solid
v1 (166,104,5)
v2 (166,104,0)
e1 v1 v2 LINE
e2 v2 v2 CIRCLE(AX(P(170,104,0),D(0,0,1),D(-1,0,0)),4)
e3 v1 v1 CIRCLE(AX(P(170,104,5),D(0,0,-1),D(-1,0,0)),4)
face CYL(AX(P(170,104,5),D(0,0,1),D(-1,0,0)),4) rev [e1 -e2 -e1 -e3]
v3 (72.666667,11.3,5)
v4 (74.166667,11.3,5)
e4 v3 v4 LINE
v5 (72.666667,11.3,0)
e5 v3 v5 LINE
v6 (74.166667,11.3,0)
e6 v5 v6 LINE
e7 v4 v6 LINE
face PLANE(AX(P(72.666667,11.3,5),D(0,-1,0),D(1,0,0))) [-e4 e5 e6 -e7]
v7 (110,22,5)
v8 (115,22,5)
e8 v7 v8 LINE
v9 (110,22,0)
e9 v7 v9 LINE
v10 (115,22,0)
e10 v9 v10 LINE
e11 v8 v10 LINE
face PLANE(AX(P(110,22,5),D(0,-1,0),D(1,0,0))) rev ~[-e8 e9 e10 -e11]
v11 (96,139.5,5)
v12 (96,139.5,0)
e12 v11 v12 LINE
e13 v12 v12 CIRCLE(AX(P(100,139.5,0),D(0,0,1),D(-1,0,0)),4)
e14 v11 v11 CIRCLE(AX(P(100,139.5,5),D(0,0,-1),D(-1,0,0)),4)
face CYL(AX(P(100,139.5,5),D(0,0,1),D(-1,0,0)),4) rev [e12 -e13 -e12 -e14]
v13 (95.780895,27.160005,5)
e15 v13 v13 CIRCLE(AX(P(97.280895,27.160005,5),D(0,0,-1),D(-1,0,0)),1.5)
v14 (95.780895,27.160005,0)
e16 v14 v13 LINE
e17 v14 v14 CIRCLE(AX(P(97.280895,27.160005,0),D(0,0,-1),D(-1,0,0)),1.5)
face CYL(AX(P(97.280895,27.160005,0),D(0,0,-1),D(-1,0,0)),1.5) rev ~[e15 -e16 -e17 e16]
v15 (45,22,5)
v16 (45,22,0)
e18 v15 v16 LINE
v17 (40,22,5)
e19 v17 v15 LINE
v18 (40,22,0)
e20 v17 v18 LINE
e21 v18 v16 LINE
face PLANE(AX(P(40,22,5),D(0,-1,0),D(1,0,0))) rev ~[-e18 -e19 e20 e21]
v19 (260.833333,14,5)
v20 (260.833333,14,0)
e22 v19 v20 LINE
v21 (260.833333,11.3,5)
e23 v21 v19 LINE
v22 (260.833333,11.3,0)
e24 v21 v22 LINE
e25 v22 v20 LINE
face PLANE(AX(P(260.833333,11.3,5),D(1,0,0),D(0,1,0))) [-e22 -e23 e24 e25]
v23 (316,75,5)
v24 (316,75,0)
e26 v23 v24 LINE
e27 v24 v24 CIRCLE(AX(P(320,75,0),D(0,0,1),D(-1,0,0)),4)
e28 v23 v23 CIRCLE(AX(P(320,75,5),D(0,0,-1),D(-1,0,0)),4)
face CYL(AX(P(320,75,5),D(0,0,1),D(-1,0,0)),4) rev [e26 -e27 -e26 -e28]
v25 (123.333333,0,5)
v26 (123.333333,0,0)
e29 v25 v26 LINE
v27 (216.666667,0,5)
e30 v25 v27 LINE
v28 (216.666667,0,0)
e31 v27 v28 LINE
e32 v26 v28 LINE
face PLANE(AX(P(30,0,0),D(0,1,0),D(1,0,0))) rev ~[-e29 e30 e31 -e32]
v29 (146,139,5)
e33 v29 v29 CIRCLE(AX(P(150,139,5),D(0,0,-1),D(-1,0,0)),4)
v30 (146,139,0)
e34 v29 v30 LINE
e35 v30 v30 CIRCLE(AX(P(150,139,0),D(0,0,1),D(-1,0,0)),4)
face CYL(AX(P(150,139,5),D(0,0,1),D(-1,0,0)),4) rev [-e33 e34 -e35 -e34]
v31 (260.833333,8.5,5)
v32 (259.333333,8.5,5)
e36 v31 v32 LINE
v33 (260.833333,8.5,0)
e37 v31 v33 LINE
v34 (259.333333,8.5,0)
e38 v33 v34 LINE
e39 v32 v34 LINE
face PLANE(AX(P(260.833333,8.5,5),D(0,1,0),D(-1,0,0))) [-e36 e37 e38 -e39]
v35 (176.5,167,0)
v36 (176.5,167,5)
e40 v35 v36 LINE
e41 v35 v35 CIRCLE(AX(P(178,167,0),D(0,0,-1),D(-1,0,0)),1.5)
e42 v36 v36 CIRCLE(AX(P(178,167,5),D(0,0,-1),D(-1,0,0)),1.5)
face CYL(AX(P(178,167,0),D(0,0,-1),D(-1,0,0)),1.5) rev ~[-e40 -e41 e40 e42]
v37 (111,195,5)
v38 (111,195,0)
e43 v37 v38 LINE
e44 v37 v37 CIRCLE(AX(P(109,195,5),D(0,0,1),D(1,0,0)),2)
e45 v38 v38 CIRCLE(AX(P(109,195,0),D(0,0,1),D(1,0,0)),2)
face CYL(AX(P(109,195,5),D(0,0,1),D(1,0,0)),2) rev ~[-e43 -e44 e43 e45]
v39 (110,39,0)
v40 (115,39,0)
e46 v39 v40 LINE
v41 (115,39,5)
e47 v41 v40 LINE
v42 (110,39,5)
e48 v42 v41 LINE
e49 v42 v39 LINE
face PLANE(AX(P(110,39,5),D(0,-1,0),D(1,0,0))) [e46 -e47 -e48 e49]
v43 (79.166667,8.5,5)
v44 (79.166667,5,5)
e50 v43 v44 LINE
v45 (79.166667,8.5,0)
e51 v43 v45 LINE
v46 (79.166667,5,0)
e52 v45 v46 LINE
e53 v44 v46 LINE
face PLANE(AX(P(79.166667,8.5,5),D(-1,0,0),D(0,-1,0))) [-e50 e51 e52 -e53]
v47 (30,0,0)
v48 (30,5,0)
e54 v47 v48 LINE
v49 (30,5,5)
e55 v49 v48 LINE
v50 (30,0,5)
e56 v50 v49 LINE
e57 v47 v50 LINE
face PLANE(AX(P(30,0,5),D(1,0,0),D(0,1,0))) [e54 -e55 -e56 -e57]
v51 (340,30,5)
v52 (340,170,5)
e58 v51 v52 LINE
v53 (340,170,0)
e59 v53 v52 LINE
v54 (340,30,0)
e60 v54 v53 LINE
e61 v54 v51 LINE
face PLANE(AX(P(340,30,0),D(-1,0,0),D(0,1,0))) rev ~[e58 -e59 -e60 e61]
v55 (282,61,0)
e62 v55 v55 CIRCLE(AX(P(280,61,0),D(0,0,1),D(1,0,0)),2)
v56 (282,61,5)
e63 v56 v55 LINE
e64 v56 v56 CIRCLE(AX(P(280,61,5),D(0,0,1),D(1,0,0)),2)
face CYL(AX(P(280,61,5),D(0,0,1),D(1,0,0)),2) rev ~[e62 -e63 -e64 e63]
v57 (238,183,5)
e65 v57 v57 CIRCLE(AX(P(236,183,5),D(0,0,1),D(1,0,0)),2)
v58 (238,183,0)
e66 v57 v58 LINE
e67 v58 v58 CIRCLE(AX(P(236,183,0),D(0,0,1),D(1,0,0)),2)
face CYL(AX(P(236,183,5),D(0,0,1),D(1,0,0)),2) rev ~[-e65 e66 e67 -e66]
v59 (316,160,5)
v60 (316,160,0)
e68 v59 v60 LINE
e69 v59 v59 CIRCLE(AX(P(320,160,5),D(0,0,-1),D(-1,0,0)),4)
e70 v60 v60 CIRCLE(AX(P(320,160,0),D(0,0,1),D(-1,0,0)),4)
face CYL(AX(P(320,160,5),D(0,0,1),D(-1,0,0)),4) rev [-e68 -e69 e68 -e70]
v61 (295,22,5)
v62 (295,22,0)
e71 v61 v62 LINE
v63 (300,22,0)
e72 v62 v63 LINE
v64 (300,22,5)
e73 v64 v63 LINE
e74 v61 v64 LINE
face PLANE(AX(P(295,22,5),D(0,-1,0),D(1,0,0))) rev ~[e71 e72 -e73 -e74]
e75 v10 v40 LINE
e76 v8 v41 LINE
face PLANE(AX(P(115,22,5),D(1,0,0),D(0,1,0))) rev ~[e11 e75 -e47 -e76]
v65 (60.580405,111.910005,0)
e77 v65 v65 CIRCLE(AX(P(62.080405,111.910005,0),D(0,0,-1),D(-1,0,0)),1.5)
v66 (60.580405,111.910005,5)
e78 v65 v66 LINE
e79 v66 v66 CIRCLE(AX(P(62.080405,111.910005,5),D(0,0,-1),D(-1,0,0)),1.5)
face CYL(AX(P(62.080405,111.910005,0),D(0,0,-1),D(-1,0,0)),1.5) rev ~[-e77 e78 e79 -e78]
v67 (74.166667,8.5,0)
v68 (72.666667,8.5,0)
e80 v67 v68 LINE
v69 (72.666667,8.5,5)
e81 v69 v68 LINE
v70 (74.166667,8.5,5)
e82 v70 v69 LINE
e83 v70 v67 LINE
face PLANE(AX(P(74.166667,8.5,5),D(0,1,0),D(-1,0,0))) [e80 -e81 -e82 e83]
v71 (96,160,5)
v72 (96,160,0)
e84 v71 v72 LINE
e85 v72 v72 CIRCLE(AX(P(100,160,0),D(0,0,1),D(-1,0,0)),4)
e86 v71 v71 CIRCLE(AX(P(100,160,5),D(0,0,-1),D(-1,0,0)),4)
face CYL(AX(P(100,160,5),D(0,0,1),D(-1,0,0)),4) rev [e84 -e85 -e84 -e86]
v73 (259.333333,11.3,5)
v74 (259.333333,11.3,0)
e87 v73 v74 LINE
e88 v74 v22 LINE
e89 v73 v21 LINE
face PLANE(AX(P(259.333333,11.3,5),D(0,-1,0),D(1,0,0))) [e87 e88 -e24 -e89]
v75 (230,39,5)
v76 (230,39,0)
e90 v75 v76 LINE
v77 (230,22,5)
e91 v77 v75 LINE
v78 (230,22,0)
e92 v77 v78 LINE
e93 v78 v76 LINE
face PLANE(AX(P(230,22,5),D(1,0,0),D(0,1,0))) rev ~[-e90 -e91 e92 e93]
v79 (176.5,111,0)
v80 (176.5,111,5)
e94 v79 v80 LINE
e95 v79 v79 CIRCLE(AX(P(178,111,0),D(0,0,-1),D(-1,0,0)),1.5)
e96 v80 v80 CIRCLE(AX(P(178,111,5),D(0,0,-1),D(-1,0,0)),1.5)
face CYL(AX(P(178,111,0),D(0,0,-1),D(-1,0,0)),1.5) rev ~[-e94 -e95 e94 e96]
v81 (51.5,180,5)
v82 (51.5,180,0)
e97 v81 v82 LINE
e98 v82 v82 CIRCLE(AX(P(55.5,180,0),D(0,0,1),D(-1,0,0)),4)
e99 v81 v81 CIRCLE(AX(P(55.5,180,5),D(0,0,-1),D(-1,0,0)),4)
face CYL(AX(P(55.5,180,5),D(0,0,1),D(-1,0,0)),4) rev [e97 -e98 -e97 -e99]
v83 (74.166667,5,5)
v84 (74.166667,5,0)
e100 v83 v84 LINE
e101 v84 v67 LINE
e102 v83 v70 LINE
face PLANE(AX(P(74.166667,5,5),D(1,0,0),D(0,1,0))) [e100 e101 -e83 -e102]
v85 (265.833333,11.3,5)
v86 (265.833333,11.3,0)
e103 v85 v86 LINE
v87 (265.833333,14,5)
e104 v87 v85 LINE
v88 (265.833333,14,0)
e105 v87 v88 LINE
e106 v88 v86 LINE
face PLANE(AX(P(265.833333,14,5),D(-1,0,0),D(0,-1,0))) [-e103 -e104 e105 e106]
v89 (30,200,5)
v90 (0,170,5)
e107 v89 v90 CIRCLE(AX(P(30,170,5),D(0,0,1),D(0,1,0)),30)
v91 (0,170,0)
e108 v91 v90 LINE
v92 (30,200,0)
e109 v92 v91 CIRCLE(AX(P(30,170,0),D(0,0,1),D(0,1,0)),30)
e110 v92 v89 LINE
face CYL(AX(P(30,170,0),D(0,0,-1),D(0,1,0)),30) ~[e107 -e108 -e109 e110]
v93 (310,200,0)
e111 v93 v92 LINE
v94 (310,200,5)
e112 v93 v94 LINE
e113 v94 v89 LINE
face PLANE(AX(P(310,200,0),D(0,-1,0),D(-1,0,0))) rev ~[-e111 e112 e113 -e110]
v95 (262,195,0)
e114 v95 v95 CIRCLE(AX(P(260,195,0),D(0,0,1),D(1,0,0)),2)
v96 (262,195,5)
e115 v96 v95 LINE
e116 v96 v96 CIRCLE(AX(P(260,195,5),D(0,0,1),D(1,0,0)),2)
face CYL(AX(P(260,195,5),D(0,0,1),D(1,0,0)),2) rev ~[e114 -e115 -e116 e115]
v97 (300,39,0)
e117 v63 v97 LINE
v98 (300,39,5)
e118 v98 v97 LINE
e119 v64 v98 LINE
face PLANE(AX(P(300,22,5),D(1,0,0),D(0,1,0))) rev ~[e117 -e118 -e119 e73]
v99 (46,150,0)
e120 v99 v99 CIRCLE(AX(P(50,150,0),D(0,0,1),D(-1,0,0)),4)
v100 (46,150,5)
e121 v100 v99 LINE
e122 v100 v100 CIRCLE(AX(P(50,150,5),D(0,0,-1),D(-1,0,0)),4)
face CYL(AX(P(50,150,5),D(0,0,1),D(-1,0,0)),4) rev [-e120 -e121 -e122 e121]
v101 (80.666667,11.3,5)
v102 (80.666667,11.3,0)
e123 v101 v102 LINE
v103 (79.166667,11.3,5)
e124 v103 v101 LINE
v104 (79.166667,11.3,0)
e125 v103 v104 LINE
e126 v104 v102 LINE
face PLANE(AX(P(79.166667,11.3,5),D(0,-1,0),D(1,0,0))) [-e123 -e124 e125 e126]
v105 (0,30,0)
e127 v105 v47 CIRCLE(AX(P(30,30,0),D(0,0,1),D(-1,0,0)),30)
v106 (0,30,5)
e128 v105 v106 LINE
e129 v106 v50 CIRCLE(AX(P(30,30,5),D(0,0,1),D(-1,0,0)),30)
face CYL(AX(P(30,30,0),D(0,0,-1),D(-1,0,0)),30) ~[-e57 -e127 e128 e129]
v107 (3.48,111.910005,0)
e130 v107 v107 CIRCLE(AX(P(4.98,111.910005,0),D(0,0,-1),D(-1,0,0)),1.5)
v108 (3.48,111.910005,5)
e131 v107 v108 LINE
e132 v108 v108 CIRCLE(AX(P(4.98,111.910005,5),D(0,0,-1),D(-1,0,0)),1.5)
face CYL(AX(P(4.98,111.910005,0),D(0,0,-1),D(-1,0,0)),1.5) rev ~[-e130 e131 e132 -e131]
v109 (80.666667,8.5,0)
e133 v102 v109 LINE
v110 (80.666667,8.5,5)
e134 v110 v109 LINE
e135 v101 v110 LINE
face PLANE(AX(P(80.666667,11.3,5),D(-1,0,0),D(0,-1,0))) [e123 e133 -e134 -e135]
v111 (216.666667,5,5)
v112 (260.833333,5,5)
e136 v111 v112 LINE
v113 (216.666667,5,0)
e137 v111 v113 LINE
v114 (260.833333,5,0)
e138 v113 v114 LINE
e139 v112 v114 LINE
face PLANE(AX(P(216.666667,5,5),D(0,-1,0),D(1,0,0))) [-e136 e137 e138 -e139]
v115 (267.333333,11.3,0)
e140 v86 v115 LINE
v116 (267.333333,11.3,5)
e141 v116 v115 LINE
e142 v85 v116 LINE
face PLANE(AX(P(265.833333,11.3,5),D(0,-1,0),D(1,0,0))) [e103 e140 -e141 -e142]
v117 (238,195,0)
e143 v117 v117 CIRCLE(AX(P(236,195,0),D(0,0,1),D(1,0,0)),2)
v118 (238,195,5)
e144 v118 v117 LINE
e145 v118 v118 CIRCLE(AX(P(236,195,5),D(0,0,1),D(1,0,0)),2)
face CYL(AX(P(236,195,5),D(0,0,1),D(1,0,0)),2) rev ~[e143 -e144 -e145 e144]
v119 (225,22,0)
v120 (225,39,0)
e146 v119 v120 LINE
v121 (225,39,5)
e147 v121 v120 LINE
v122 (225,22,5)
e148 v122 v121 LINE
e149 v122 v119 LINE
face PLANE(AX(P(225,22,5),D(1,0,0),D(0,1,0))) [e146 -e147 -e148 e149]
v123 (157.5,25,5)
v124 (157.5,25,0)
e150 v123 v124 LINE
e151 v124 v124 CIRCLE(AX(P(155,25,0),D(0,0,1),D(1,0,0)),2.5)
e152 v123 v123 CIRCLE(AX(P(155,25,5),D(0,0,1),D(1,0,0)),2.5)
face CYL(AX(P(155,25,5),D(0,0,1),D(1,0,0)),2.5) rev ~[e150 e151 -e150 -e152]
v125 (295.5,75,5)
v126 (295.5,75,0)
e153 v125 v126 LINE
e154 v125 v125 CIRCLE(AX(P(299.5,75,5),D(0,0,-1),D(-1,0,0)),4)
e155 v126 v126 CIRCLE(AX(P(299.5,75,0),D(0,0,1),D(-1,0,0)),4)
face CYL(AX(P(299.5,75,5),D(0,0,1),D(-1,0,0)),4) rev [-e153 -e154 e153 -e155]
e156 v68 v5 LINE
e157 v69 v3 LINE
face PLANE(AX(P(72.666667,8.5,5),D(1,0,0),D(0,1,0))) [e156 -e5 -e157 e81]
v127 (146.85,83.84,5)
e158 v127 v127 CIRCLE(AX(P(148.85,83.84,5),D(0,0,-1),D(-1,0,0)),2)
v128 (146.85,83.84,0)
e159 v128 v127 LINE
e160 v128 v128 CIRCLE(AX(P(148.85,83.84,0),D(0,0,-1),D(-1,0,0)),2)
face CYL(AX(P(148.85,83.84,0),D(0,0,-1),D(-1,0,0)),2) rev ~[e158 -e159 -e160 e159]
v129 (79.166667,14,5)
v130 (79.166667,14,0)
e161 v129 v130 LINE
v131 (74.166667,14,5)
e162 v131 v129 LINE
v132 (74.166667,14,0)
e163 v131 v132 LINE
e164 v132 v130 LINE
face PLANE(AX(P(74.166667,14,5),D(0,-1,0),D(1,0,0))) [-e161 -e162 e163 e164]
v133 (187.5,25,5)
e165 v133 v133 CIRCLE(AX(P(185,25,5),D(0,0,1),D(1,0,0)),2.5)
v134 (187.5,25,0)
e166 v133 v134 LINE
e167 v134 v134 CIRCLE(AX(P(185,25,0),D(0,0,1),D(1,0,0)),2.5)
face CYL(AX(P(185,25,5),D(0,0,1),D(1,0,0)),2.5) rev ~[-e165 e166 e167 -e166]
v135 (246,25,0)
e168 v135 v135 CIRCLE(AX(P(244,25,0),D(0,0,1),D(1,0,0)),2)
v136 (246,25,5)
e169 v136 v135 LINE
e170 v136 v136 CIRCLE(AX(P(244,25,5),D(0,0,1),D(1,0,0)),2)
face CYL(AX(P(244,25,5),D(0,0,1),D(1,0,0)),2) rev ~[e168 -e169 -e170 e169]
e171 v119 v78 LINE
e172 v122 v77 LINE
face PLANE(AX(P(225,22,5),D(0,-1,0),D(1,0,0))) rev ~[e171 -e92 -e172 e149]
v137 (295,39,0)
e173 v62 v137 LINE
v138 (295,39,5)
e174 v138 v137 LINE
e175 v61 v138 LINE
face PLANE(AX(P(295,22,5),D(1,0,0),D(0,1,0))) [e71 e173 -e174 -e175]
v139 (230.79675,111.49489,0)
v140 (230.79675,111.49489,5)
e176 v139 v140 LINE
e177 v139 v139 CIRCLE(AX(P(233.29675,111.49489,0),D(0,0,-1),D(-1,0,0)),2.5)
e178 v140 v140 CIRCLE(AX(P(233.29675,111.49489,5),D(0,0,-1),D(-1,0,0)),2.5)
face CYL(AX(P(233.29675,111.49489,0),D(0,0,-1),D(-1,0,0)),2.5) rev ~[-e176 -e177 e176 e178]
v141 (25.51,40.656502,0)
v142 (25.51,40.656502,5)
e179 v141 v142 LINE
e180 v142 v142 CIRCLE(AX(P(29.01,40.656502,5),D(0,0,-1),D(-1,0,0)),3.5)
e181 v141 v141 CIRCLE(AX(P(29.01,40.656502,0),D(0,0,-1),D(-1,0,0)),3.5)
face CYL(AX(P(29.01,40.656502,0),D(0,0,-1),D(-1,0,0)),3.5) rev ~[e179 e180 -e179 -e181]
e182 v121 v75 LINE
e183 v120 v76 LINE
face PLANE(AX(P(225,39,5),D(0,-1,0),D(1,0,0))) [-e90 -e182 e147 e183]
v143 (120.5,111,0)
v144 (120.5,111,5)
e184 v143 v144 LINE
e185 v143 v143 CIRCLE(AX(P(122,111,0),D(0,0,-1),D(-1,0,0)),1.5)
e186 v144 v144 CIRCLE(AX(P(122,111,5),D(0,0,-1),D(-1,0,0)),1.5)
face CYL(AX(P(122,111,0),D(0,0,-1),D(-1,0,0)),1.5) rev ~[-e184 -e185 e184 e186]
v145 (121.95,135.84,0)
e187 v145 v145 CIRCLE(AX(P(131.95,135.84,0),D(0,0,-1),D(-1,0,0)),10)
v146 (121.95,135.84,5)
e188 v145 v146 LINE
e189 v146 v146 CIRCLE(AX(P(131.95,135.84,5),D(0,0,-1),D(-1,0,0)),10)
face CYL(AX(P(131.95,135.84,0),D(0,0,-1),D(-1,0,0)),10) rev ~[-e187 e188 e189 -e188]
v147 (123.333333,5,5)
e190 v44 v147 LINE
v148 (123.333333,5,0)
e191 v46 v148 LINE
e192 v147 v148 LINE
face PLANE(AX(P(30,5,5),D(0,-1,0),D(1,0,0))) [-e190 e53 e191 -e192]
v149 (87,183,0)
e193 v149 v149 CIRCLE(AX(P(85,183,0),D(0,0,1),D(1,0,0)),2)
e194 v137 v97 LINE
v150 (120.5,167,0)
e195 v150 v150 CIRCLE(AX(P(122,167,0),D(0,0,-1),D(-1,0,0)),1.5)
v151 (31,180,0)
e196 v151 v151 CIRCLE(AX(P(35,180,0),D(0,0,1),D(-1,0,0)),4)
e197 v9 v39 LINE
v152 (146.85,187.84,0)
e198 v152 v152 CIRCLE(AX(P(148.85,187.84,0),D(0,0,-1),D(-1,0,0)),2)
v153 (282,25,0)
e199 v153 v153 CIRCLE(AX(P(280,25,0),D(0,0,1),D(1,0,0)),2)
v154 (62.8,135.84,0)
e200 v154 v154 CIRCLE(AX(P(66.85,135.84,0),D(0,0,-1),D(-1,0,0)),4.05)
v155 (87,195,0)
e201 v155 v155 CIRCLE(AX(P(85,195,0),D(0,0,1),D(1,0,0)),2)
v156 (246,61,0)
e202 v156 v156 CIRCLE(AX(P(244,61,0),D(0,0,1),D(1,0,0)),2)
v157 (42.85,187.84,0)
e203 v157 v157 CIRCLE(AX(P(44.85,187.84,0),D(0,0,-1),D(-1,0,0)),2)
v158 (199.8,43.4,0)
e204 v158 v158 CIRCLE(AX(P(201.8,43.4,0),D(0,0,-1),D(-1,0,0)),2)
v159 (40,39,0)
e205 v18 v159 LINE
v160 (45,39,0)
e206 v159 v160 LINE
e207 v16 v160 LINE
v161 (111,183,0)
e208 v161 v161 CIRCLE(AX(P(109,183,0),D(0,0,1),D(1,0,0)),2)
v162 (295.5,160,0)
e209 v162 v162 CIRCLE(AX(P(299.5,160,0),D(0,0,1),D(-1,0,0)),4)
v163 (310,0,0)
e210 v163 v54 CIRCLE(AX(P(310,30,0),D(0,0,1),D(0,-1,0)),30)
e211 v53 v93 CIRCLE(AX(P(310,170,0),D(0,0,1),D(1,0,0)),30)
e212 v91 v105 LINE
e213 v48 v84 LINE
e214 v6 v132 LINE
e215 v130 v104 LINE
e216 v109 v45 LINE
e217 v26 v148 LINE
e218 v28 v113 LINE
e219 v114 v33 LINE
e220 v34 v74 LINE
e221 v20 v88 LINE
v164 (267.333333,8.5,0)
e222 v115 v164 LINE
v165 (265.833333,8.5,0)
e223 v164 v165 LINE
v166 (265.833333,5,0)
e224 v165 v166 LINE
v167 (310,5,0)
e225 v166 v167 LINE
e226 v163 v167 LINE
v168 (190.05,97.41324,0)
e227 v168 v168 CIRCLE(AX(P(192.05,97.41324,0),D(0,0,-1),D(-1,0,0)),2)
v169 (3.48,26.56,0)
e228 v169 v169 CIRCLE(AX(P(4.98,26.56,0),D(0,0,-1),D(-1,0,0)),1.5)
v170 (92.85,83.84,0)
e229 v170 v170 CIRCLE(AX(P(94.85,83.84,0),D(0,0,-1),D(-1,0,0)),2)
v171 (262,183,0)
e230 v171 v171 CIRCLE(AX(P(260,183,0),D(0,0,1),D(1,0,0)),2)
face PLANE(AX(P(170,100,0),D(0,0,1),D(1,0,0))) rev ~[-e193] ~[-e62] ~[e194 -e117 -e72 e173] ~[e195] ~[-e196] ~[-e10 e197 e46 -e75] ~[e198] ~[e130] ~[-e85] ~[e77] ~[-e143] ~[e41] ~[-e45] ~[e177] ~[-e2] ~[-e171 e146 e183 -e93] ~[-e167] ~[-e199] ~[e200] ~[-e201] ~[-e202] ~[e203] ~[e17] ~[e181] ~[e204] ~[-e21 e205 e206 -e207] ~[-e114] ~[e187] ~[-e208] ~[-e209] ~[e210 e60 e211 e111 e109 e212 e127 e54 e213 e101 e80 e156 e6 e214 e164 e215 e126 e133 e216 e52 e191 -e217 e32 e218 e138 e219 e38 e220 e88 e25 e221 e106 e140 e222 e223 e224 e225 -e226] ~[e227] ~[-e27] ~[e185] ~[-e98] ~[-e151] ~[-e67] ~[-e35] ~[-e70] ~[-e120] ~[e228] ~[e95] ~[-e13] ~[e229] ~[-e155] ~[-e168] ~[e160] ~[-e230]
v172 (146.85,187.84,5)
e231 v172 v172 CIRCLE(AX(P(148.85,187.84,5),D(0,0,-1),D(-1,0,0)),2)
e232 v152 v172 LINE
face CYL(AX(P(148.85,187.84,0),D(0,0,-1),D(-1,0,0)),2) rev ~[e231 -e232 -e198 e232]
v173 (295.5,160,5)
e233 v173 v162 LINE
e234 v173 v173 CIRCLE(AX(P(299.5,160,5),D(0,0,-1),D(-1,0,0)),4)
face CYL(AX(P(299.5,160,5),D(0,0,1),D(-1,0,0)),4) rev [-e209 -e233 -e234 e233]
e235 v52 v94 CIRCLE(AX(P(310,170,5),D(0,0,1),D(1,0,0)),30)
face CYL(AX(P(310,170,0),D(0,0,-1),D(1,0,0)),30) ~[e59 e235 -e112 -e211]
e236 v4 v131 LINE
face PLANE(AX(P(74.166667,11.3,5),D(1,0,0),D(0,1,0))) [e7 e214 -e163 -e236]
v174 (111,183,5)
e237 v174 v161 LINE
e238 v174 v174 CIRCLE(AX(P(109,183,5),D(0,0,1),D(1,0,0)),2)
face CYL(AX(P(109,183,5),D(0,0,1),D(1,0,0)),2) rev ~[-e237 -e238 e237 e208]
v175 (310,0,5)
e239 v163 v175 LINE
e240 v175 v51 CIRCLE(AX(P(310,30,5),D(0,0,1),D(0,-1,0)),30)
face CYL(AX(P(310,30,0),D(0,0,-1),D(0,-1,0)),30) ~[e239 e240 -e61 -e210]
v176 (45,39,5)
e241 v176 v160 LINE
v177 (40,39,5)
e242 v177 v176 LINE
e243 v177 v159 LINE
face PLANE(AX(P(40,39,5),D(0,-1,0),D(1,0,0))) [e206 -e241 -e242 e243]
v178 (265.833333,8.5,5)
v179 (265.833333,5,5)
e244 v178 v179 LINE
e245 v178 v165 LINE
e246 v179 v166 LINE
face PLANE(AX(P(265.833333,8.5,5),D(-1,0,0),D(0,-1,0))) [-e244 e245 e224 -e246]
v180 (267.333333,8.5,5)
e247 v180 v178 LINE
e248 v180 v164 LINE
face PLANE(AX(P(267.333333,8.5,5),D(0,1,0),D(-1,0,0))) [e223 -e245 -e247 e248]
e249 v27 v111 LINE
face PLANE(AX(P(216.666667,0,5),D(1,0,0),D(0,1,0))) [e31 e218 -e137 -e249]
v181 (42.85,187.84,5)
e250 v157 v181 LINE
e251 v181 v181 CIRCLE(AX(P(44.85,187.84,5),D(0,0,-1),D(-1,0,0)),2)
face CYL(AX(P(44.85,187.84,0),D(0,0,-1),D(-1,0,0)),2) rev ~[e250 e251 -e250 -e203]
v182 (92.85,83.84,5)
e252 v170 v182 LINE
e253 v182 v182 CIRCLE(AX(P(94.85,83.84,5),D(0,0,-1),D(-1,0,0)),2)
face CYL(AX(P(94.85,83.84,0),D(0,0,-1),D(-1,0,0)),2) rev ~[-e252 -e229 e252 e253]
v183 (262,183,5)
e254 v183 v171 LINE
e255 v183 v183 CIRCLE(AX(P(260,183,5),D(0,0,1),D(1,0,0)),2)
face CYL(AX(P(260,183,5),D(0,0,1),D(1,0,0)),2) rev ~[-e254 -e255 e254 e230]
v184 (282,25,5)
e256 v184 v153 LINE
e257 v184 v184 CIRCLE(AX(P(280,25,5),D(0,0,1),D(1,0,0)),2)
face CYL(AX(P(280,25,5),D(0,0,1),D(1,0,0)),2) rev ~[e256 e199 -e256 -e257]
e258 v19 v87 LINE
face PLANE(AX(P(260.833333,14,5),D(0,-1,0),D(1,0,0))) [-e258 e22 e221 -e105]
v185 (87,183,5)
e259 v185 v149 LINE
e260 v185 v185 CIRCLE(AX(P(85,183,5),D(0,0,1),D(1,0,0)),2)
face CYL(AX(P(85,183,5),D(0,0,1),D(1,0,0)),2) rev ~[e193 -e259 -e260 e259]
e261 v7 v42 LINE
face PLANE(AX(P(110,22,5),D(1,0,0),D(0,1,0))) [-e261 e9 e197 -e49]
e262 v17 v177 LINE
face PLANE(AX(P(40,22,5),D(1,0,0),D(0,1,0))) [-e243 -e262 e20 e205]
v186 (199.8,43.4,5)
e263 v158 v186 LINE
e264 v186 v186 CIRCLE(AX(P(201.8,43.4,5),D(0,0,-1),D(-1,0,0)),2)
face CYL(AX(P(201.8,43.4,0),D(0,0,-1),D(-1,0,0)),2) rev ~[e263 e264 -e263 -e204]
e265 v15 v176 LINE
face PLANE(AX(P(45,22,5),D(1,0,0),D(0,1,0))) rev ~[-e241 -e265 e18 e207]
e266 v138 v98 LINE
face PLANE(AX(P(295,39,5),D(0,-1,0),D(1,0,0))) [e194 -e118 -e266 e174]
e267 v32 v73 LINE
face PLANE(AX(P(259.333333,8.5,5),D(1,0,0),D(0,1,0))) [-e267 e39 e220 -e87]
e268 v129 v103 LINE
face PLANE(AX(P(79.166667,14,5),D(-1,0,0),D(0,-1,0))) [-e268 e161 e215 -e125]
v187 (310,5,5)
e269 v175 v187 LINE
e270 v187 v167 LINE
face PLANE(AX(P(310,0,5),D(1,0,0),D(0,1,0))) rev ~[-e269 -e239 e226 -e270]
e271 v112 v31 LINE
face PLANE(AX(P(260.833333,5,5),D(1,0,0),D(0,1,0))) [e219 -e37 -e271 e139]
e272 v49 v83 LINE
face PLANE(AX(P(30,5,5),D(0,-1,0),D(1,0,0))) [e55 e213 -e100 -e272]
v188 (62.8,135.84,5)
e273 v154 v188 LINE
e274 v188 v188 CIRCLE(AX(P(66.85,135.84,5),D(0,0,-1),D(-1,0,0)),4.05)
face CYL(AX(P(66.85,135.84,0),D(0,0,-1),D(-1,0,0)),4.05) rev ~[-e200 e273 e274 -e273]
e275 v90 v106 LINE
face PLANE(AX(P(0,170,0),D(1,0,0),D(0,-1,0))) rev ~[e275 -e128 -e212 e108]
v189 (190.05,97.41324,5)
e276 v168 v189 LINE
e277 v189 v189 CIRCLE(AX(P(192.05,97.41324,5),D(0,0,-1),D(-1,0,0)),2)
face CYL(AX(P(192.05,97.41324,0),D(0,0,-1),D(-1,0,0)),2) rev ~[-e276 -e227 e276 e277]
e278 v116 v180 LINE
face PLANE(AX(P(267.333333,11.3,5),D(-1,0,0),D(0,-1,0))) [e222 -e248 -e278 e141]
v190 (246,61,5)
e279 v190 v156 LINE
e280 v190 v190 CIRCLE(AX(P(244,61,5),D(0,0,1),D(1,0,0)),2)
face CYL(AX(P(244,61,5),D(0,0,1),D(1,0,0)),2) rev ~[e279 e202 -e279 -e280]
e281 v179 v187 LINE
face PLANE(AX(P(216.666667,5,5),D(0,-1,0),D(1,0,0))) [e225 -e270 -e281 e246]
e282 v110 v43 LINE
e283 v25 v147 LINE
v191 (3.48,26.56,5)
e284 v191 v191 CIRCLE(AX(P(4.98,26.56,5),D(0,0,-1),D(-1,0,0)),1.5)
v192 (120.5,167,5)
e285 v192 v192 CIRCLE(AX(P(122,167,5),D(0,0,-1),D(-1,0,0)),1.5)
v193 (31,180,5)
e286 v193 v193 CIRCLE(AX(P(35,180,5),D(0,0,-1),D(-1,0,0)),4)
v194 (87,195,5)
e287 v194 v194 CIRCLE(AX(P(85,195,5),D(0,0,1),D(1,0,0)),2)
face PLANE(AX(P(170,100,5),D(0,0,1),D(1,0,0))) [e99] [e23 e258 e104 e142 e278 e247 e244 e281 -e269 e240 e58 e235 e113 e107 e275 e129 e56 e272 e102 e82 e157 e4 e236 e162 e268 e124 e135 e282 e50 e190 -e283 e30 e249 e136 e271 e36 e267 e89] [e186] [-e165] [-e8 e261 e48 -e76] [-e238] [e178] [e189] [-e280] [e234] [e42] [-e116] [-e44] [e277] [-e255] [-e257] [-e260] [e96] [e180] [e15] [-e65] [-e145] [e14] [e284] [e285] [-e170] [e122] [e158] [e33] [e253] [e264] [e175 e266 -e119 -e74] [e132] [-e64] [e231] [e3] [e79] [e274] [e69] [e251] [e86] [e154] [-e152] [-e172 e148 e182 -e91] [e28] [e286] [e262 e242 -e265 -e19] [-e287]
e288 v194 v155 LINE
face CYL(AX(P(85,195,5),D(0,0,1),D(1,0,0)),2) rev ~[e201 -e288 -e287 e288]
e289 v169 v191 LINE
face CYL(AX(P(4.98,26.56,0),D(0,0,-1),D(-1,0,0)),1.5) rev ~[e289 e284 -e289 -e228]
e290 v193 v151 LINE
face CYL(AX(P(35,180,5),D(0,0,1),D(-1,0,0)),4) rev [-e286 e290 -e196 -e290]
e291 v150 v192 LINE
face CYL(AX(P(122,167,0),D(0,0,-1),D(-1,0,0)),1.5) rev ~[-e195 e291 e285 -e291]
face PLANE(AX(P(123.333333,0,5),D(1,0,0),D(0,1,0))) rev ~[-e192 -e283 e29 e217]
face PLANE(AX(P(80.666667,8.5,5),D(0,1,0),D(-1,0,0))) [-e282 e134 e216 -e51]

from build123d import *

# Parameters (mm, degrees)
SALIENTE_EXTRUIR1_DEPTH = 5
CROQUIS2_R              = 4
CORTAR_EXTRUIR4_DEPTH   = 10
CROQUIS3_R              = 2
CROQUIS3_R_2            = 10
CROQUIS3_R_3            = 4.05
CORTAR_EXTRUIR5_DEPTH   = 10
CROQUIS5_R              = 1.5
CORTAR_EXTRUIR6_DEPTH   = 10
CROQUIS6_R              = 2
CORTAR_EXTRUIR7_DEPTH   = 10
CROQUIS8_R              = 2
CORTAR_EXTRUIR8_DEPTH   = 10
CROQUIS9_R              = 3.5
CROQUIS9_R_2            = 1.5
CROQUIS9_R_3            = 2.5
CROQUIS9_R_4            = 2
CORTAR_EXTRUIR9_DEPTH   = 10
CROQUIS10_W             = 93.333333333
CROQUIS10_H             = 5
CORTAR_EXTRUIR10_DEPTH  = 10
CORTAR_EXTRUIR14_DEPTH  = 5
CROQUIS13_W             = 5
CROQUIS13_H             = 17
CORTAR_EXTRUIR15_DEPTH  = 5
CROQUIS14_R             = 2.5
CORTAR_EXTRUIR16_DEPTH  = 10


with BuildPart() as part:
    # Croquis1 → Saliente-Extruir1 (new body)
    with BuildSketch(Plane.XY):
        with BuildLine():
            Line((30, 0), (310, 0))
            ThreePointArc((310, 0), (331.213203436, 8.786796564), (340, 30))
            Line((340, 30), (340, 170))
            ThreePointArc((340, 170), (331.213203436, 191.213203436), (310, 200))
            Line((310, 200), (30, 200))
            ThreePointArc((30, 200), (8.786796564, 191.213203436), (0, 170))
            Line((0, 170), (0, 30))
            ThreePointArc((0, 30), (8.786796564, 8.786796564), (30, 0))
        make_face()
    extrude(amount=SALIENTE_EXTRUIR1_DEPTH)

    # Croquis2 → Cortar-Extruir4 (cut)
    with BuildSketch(Plane(origin=(0, 0, 5), x_dir=(-1, 0, 0), z_dir=(0, 0, -1))):
        with Locations((-55.5, 180)):
            Circle(CROQUIS2_R)
        with Locations((-35, 180)):
            Circle(CROQUIS2_R)
        with Locations((-100, 160)):
            Circle(CROQUIS2_R)
        with Locations((-100, 139.5)):
            Circle(CROQUIS2_R)
        with Locations((-299.5, 160)):
            Circle(CROQUIS2_R)
        with Locations((-320, 160)):
            Circle(CROQUIS2_R)
        with Locations((-320, 75)):
            Circle(CROQUIS2_R)
        with Locations((-299.5, 75)):
            Circle(CROQUIS2_R)
        with Locations((-150, 139)):
            Circle(CROQUIS2_R)
        with Locations((-170, 104)):
            Circle(CROQUIS2_R)
        with Locations((-50, 150)):
            Circle(CROQUIS2_R)
    extrude(amount=CORTAR_EXTRUIR4_DEPTH, mode=Mode.SUBTRACT)

    # Croquis3 → Cortar-Extruir5 (cut)
    with BuildSketch(Plane(origin=(0, 0, 0), x_dir=(-1, 0, 0), z_dir=(0, 0, -1))):
        with Locations((-148.85, 83.84)):
            Circle(CROQUIS3_R)
        with Locations((-94.85, 83.84)):
            Circle(CROQUIS3_R)
        with Locations((-44.85, 187.84)):
            Circle(CROQUIS3_R)
        with Locations((-148.85, 187.84)):
            Circle(CROQUIS3_R)
        with Locations((-131.95, 135.84)):
            Circle(CROQUIS3_R_2)
        with Locations((-66.85, 135.84)):
            Circle(CROQUIS3_R_3)
    extrude(amount=-CORTAR_EXTRUIR5_DEPTH, mode=Mode.SUBTRACT)

    # Croquis5 → Cortar-Extruir6 (cut)
    with BuildSketch(Plane(origin=(0, 0, 0), x_dir=(-1, 0, 0), z_dir=(0, 0, -1))):
        with Locations((-178, 167)):
            Circle(CROQUIS5_R)
        with Locations((-122, 111)):
            Circle(CROQUIS5_R)
        with Locations((-122, 167)):
            Circle(CROQUIS5_R)
        with Locations((-178, 111)):
            Circle(CROQUIS5_R)
    extrude(amount=-CORTAR_EXTRUIR6_DEPTH, mode=Mode.SUBTRACT)

    # Croquis6 → Cortar-Extruir7 (cut)
    with BuildSketch(Plane.XY.offset(5)):
        with Locations((244, 61)):
            Circle(CROQUIS6_R)
        with Locations((280, 61)):
            Circle(CROQUIS6_R)
        with Locations((244, 25)):
            Circle(CROQUIS6_R)
        with Locations((280, 25)):
            Circle(CROQUIS6_R)
    extrude(amount=-CORTAR_EXTRUIR7_DEPTH, mode=Mode.SUBTRACT)

    # Croquis8 → Cortar-Extruir8 (cut)
    with BuildSketch(Plane.XY.offset(5)):
        with Locations((236, 195)):
            Circle(CROQUIS8_R)
        with Locations((236, 183)):
            Circle(CROQUIS8_R)
        with Locations((260, 183)):
            Circle(CROQUIS8_R)
        with Locations((260, 195)):
            Circle(CROQUIS8_R)
        with Locations((85, 195)):
            Circle(CROQUIS8_R)
        with Locations((85, 183)):
            Circle(CROQUIS8_R)
        with Locations((109, 183)):
            Circle(CROQUIS8_R)
        with Locations((109, 195)):
            Circle(CROQUIS8_R)
    extrude(amount=-CORTAR_EXTRUIR8_DEPTH, mode=Mode.SUBTRACT)

    # Croquis9 → Cortar-Extruir9 (cut)
    with BuildSketch(Plane(origin=(0, 0, 0), x_dir=(-1, 0, 0), z_dir=(0, 0, -1))):
        with Locations((-29.01, 40.656502357)):
            Circle(CROQUIS9_R)
        with Locations((-62.080404779, 111.910005093)):
            Circle(CROQUIS9_R_2)
        with Locations((-4.98, 111.910005093)):
            Circle(CROQUIS9_R_2)
        with Locations((-97.280894834, 27.160005093)):
            Circle(CROQUIS9_R_2)
        with Locations((-4.98, 26.56)):
            Circle(CROQUIS9_R_2)
        with Locations((-233.296749654, 111.494889841)):
            Circle(CROQUIS9_R_3)
        with Locations((-201.8, 43.4)):
            Circle(CROQUIS9_R_4)
        with Locations((-192.05, 97.413240345)):
            Circle(CROQUIS9_R_4)
    extrude(amount=-CORTAR_EXTRUIR9_DEPTH, mode=Mode.SUBTRACT)

    # Croquis10 → Cortar-Extruir10 (cut)
    with BuildSketch(Plane.XY.offset(5)):
        with Locations((76.666666667, 2.5)):
            Rectangle(CROQUIS10_W, CROQUIS10_H)
        with Locations((263.333333334, 2.5)):
            Rectangle(CROQUIS10_W, CROQUIS10_H)
    extrude(amount=-CORTAR_EXTRUIR10_DEPTH, mode=Mode.SUBTRACT)

    # Croquis12 → Cortar-Extruir14 (cut)
    with BuildSketch(Plane.XY.offset(5)):
        Polygon((74.166666667, 5), (74.166666667, 8.5), (72.666666667, 8.5), (72.666666667, 11.3), (74.166666667, 11.3), (74.166666667, 14), (79.166666667, 14), (79.166666667, 11.3), (80.666666667, 11.3), (80.666666667, 8.5), (79.166666667, 8.5), (79.166666667, 5), align=None)
        Polygon((260.833333333, 11.3), (260.833333333, 14), (265.833333333, 14), (265.833333333, 11.3), (267.333333333, 11.3), (267.333333333, 8.5), (265.833333333, 8.5), (265.833333333, 5), (260.833333333, 5), (260.833333333, 8.5), (259.333333333, 8.5), (259.333333333, 11.3), align=None)
    extrude(amount=-CORTAR_EXTRUIR14_DEPTH, mode=Mode.SUBTRACT)

    # Croquis13 → Cortar-Extruir15 (cut)
    with BuildSketch(Plane.XY.offset(5)):
        with Locations((42.5, 30.5)):
            Rectangle(CROQUIS13_W, CROQUIS13_H)
        with Locations((112.5, 30.5)):
            Rectangle(CROQUIS13_W, CROQUIS13_H)
        with Locations((227.5, 30.5)):
            Rectangle(CROQUIS13_W, CROQUIS13_H)
        with Locations((297.5, 30.5)):
            Rectangle(CROQUIS13_W, CROQUIS13_H)
    extrude(amount=-CORTAR_EXTRUIR15_DEPTH, mode=Mode.SUBTRACT)

    # Croquis14 → Cortar-Extruir16 (cut)
    with BuildSketch(Plane.XY.offset(5)):
        with Locations((155, 25)):
            Circle(CROQUIS14_R)
        with Locations((185, 25)):
            Circle(CROQUIS14_R)
    extrude(amount=-CORTAR_EXTRUIR16_DEPTH, mode=Mode.SUBTRACT)


solid = part.part
